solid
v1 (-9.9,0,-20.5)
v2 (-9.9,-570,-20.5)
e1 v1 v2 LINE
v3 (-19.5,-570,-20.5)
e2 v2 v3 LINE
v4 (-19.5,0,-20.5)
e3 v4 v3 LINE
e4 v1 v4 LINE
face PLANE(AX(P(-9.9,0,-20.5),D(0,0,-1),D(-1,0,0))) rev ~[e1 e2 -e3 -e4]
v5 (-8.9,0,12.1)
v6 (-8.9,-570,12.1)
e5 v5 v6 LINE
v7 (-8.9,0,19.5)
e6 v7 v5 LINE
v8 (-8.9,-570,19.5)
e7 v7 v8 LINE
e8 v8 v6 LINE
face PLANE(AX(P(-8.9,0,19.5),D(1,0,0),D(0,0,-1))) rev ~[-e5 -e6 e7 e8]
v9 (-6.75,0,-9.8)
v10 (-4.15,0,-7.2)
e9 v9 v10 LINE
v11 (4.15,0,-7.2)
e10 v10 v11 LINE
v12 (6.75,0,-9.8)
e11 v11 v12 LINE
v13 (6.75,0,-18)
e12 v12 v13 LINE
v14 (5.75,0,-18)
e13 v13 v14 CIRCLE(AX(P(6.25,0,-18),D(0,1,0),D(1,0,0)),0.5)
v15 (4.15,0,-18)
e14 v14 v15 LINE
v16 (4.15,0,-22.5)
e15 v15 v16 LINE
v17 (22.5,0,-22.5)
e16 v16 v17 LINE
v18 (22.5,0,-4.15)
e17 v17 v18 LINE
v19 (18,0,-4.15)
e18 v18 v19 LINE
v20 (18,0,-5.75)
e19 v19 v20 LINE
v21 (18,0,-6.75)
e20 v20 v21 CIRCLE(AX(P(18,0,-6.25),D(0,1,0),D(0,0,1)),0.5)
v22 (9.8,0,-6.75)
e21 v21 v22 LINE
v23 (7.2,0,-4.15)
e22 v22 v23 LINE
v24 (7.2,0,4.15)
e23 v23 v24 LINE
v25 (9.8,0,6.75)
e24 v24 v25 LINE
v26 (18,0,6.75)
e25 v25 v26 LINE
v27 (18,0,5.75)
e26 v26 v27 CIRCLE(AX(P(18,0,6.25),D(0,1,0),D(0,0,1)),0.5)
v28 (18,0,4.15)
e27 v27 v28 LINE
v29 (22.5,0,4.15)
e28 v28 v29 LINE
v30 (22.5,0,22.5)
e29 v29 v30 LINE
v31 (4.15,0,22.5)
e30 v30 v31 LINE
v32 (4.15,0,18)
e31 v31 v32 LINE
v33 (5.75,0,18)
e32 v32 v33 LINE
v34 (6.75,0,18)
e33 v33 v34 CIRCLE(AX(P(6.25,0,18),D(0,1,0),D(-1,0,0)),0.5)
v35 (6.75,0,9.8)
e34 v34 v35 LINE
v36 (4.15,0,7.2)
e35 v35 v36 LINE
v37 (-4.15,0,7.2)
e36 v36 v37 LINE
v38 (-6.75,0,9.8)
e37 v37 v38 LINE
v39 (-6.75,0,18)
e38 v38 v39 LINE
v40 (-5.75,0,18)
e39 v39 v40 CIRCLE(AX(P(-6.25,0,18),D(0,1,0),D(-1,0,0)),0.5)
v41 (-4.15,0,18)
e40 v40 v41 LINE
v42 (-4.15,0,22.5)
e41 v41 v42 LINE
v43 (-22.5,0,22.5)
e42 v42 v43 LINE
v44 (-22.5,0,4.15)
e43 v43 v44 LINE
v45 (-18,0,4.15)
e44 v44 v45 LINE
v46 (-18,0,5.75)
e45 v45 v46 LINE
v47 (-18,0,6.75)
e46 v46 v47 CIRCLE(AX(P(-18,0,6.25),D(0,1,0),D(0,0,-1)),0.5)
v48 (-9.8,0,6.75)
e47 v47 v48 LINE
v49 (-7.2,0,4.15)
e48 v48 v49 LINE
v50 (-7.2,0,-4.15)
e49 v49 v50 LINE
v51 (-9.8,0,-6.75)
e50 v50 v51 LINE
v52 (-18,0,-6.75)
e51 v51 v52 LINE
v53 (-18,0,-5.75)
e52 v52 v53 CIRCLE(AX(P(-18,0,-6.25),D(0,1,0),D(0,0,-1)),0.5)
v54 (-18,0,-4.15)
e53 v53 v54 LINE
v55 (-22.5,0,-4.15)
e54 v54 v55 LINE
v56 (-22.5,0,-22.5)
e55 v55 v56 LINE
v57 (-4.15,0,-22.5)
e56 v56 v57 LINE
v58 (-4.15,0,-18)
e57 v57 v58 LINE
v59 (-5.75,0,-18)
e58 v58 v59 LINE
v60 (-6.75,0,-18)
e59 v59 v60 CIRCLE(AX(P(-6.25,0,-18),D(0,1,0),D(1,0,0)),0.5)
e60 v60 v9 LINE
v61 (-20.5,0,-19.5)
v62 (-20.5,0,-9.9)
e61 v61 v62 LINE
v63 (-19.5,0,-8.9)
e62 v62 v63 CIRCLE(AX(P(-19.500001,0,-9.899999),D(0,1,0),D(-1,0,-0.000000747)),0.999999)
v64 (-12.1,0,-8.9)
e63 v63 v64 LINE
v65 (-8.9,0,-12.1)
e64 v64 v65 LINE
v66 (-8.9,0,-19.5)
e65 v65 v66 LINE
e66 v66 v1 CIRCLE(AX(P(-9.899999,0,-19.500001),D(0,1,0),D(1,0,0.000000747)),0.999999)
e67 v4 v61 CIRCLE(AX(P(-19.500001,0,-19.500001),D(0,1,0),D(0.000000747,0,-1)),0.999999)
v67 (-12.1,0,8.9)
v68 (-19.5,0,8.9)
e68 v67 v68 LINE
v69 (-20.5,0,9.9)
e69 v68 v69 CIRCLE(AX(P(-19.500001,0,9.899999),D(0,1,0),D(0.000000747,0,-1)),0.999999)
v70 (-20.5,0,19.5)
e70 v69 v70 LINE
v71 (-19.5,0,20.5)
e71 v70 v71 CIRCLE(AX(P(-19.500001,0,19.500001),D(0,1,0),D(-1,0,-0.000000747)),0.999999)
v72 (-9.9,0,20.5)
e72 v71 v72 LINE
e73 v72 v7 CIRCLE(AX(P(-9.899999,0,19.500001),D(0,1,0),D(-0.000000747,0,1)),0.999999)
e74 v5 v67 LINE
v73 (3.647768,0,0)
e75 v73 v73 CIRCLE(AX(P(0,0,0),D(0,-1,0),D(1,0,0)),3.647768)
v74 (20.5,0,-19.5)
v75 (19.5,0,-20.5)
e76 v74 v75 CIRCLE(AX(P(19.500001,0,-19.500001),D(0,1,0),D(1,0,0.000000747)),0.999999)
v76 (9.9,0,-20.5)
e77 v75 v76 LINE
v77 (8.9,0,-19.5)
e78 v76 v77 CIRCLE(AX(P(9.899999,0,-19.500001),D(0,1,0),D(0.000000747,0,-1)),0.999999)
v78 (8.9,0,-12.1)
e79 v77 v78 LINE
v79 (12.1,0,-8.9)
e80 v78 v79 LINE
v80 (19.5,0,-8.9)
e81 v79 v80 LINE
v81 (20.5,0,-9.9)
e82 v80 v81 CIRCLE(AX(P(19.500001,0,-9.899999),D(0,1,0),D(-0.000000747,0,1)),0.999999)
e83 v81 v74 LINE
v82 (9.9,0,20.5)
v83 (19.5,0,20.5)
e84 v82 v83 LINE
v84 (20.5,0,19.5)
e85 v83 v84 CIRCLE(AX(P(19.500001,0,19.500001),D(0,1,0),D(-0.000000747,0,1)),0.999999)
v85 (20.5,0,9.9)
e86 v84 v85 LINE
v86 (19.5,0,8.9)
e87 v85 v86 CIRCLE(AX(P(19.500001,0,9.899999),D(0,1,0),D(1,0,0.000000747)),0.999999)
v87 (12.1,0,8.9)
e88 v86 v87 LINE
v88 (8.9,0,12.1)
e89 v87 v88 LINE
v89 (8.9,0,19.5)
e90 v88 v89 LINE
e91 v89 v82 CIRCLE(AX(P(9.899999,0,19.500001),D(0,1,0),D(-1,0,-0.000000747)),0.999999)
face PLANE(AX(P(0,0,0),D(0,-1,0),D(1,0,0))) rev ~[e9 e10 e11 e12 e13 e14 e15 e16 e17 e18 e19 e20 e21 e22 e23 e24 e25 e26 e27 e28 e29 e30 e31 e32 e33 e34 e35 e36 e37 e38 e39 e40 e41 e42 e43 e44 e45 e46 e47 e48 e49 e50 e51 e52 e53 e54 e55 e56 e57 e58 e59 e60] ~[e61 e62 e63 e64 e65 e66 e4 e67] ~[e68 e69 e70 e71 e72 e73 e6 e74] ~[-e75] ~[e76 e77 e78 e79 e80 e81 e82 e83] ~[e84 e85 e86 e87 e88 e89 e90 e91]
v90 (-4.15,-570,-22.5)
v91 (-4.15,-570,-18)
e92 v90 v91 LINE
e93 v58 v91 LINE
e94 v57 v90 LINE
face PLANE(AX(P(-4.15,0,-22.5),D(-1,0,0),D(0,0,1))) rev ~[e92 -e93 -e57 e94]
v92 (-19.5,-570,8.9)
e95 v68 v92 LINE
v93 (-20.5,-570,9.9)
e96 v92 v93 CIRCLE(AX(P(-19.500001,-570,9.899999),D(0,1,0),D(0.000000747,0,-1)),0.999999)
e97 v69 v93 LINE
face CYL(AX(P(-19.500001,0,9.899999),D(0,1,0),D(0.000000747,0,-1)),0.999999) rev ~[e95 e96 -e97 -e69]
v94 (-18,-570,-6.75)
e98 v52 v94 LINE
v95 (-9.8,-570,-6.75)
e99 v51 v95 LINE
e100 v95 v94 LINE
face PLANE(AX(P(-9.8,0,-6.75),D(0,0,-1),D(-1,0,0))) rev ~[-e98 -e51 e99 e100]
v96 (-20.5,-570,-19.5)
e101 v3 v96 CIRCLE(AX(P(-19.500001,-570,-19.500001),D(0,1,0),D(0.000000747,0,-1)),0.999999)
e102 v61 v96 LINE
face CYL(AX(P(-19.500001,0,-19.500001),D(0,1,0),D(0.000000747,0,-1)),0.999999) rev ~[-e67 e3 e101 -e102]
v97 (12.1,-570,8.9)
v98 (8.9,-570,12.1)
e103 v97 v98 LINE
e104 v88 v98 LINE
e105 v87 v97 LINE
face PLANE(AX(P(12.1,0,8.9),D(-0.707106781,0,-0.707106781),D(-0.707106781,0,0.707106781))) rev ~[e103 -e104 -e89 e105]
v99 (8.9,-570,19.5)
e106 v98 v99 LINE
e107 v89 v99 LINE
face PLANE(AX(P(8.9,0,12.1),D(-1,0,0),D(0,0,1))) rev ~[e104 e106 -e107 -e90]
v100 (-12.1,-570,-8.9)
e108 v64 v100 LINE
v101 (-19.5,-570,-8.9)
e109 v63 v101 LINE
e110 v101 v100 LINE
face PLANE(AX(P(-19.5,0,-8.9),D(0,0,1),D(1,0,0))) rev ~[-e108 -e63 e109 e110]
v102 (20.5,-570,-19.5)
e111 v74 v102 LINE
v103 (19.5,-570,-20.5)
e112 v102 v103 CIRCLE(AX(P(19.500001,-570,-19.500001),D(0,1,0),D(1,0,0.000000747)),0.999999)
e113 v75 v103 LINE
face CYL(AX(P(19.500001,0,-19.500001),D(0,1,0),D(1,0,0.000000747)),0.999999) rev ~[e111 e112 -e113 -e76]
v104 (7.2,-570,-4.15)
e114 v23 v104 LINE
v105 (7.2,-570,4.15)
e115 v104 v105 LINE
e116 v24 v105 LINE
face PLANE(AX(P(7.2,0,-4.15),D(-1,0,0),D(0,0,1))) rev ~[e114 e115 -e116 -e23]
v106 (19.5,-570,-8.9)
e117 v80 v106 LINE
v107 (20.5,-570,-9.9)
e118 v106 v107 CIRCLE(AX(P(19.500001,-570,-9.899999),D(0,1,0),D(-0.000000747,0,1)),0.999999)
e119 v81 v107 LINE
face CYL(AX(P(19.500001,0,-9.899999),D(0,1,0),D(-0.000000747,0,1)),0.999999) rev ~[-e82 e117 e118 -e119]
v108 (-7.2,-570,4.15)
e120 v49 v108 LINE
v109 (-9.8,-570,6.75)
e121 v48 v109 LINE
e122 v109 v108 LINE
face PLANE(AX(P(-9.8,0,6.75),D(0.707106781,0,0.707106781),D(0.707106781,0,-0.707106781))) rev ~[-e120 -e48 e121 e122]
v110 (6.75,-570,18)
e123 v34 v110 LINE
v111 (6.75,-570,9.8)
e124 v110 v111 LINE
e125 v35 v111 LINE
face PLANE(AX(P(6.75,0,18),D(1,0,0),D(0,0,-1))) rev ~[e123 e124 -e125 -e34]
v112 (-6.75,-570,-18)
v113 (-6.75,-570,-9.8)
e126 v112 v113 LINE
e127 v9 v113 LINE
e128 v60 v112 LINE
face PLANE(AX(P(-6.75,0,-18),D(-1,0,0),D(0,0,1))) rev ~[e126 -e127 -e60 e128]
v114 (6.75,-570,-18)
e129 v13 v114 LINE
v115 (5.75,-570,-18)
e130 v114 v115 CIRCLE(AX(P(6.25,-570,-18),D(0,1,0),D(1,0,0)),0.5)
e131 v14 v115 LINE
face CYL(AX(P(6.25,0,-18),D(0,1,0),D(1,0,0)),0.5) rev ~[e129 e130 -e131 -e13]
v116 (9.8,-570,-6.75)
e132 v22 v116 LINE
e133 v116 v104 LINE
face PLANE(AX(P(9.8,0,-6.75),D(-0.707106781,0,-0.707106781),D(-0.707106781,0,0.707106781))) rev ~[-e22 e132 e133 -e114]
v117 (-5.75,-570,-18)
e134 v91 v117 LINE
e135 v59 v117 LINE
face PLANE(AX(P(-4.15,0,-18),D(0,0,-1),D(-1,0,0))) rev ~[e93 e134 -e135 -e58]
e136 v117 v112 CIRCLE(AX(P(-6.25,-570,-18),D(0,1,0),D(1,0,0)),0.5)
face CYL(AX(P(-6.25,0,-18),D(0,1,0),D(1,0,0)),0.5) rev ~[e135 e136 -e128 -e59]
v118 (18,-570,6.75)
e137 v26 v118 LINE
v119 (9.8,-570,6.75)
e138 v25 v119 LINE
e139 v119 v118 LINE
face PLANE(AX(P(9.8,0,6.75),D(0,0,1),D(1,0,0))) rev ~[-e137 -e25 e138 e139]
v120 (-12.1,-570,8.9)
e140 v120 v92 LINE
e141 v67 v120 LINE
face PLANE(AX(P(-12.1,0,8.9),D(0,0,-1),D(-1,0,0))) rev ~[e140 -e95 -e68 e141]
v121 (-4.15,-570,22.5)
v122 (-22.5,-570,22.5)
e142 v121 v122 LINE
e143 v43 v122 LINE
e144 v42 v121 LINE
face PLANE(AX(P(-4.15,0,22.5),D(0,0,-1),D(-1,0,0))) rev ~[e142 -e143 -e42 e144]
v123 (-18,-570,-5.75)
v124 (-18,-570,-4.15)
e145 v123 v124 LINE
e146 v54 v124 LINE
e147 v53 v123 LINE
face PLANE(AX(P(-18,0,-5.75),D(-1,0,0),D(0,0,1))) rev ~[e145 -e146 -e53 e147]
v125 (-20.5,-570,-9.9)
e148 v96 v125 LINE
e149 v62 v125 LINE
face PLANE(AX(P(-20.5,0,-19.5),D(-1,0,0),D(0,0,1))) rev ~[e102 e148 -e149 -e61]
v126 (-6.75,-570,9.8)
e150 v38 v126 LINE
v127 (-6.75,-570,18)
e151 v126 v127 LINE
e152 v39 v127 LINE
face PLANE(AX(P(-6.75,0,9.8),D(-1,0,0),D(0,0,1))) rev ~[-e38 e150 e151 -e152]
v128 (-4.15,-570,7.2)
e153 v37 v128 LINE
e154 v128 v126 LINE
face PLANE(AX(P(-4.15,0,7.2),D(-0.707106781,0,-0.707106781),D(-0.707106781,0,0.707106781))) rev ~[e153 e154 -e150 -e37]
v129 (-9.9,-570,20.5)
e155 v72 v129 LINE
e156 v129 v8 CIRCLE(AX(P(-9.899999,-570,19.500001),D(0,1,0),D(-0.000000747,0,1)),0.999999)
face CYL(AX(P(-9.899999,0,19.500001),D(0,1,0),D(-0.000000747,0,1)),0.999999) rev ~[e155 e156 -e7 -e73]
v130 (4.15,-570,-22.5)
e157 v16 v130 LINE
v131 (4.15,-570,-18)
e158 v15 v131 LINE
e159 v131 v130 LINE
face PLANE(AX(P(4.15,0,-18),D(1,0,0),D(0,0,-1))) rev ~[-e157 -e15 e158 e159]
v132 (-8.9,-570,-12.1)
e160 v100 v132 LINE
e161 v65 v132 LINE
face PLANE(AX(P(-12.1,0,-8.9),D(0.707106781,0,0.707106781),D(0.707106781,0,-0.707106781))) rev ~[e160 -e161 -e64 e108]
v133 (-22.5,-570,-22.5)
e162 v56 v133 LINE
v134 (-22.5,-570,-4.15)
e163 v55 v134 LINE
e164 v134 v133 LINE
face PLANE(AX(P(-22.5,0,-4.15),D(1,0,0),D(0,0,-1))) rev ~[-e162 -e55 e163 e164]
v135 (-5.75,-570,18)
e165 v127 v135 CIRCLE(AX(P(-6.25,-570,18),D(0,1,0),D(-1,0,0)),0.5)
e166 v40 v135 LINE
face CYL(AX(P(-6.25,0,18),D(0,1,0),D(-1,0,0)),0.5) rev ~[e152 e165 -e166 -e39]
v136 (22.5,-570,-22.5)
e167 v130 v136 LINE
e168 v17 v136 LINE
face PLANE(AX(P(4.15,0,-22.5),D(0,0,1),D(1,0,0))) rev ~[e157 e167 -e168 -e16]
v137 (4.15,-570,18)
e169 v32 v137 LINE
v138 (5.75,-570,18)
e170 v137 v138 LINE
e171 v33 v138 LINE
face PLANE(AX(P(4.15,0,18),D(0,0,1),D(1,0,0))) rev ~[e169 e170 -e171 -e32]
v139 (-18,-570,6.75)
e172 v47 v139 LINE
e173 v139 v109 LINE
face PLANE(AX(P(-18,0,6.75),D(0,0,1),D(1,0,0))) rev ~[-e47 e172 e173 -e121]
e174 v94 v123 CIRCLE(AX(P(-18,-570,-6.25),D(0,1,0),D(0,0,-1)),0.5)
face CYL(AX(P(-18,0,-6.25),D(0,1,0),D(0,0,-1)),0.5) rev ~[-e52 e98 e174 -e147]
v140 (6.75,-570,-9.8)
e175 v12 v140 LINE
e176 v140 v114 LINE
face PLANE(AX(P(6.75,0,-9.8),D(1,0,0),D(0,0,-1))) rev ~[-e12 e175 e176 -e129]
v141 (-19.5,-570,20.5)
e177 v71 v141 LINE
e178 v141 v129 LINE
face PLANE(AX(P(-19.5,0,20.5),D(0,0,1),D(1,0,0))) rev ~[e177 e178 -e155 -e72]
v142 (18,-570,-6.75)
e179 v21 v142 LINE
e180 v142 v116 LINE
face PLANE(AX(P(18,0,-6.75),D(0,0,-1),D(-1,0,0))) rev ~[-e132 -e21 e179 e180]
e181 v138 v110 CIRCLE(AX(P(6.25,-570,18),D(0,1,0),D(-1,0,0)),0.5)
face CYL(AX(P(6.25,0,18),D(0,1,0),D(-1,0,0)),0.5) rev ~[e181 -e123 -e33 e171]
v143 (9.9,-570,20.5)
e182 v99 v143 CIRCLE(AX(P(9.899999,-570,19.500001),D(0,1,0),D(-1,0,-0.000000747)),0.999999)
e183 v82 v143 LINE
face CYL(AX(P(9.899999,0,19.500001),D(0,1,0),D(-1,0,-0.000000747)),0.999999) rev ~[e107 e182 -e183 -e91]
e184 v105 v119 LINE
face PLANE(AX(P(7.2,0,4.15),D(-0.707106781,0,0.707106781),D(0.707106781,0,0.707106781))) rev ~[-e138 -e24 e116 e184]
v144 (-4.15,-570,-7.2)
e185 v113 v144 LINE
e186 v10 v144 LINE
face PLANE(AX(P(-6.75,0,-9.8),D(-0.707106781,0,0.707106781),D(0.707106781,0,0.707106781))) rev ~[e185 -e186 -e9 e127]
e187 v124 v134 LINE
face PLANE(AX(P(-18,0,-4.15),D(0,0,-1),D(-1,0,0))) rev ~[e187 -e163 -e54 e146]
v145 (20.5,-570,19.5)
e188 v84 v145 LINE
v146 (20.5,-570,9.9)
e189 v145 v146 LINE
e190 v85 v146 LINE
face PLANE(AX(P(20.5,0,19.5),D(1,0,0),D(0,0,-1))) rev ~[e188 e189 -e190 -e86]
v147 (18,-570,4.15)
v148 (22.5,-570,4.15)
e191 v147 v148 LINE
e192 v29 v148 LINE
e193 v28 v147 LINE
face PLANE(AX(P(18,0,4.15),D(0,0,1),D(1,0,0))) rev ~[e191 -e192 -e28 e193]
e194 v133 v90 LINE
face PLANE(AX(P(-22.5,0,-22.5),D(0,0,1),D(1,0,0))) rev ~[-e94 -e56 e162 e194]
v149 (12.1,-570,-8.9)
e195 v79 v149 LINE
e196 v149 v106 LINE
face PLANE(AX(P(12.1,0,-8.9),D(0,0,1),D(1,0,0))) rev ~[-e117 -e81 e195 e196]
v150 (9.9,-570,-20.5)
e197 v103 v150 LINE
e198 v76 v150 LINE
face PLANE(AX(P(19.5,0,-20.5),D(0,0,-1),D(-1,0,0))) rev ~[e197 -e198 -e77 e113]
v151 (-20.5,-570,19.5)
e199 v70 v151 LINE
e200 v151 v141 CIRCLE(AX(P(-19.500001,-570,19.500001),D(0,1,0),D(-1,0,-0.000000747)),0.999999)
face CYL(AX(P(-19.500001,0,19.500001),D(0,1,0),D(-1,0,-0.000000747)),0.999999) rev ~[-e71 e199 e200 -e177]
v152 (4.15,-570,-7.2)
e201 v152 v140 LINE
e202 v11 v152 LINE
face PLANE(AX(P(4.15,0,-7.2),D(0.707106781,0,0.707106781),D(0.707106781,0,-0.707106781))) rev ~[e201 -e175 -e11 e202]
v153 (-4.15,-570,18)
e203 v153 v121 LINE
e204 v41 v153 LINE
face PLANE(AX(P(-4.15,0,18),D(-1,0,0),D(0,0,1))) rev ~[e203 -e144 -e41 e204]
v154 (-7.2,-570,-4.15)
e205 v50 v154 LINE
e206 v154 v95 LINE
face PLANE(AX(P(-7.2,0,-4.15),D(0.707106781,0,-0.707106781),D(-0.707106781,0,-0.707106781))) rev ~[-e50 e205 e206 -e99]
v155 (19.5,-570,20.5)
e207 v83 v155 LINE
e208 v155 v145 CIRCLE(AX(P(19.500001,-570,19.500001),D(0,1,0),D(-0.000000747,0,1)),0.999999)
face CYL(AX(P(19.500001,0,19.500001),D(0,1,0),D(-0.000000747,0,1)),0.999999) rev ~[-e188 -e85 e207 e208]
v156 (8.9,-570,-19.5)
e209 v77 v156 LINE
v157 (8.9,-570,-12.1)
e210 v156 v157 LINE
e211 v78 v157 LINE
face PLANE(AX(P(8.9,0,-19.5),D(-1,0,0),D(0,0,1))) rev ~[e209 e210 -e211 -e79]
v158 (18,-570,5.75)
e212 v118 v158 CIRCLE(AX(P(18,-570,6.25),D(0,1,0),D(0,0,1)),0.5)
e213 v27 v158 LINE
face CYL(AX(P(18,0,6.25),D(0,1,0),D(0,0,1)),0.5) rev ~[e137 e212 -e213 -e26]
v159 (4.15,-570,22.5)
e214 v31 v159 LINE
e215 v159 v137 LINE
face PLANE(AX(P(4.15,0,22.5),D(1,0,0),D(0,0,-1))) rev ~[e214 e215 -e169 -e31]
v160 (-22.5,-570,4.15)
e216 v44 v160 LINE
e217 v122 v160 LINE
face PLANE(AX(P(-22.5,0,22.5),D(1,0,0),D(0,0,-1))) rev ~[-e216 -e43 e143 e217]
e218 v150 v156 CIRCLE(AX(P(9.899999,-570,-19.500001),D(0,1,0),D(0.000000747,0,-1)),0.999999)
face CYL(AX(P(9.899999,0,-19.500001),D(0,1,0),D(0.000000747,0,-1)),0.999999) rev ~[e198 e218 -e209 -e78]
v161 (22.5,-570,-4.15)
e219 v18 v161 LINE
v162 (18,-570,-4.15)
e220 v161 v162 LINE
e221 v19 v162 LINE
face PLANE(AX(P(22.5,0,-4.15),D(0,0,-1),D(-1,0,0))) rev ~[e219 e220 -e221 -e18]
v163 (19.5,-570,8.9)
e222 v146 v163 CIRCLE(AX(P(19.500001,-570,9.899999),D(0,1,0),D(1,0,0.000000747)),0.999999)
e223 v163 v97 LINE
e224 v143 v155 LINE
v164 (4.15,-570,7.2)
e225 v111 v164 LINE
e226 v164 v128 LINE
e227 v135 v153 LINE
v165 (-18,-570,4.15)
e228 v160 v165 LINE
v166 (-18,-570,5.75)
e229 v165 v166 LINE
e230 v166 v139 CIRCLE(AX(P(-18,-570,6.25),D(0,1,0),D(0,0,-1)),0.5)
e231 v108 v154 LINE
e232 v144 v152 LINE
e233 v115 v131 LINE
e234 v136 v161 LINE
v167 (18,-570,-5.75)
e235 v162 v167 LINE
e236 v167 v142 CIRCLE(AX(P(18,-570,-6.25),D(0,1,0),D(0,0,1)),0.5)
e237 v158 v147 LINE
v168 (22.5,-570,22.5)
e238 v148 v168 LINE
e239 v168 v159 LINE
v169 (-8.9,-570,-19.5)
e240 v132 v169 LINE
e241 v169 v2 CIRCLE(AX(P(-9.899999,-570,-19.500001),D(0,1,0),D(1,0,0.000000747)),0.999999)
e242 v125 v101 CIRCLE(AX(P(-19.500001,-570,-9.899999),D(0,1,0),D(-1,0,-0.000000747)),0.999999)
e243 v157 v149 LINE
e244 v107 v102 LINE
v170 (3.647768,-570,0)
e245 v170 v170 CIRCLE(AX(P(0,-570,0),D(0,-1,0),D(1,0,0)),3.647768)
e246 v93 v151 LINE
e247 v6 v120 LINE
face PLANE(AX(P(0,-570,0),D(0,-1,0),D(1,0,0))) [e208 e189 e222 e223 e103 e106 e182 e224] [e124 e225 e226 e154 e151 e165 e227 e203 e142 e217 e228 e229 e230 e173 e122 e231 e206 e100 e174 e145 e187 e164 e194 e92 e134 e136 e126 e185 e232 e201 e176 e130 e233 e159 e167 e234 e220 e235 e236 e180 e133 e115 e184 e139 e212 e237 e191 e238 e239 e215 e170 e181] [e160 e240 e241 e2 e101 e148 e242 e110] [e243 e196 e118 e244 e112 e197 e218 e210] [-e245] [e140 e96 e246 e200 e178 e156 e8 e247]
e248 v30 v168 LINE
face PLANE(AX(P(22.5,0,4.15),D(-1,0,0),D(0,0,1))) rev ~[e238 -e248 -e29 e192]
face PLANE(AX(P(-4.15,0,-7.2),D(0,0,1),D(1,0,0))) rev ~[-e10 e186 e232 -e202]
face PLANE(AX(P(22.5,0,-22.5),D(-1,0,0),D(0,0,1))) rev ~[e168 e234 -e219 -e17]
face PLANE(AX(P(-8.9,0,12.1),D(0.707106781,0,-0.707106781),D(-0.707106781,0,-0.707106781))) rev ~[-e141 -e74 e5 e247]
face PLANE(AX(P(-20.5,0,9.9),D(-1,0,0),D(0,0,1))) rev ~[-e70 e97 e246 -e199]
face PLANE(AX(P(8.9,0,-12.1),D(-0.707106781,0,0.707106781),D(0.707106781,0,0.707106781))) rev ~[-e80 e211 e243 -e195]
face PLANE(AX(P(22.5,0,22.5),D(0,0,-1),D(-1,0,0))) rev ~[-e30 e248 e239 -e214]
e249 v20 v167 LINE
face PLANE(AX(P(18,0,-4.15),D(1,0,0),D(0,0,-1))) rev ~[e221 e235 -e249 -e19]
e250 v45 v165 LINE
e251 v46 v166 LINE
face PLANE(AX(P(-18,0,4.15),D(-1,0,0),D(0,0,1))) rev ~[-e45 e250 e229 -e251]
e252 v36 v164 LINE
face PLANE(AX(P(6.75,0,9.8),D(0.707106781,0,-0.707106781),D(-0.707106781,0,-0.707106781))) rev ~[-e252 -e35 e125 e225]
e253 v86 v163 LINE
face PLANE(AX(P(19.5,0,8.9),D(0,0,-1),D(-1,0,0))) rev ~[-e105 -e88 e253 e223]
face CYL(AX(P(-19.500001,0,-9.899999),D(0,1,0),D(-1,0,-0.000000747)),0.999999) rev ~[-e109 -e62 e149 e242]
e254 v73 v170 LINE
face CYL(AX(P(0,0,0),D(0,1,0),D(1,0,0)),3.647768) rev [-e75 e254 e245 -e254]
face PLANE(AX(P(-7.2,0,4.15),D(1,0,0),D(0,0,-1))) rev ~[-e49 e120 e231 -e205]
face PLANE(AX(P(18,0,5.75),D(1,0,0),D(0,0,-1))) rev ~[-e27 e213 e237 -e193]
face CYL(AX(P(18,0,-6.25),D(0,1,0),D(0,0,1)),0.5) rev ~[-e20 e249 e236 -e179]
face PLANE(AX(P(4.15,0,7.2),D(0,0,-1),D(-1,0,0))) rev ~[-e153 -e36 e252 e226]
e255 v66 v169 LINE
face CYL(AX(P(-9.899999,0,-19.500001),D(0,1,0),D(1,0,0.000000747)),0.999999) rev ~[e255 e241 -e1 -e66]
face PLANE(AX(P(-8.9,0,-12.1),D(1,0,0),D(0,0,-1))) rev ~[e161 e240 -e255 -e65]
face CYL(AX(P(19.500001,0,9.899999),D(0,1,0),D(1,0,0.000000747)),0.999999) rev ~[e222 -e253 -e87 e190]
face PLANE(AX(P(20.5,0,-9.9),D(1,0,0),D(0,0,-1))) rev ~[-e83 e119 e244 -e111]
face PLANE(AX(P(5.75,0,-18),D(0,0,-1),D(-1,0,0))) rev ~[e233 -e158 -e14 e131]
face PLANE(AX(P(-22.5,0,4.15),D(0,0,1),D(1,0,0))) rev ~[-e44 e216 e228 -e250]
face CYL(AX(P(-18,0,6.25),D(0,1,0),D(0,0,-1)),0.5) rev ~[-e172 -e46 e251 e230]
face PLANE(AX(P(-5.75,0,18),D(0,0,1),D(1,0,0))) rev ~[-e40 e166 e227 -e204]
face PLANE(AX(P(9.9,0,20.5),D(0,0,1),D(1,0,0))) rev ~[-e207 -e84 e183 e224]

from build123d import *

# Parameters (mm, degrees)
F0_R     = 3.647768
F1_DEPTH = 570


with BuildPart() as f1:
    # F0 (on Front) → F1 (new body)
    with BuildSketch(Plane.XZ):
        with BuildLine():
            Line((-4.15, 22.5), (-22.5, 22.5))
            Line((-22.5, 22.5), (-22.5, 4.15))
            Line((-22.5, 4.15), (-18, 4.15))
            Line((-18, 4.15), (-18, 5.75))
            ThreePointArc((-18, 5.75), (-18.5, 6.25), (-18, 6.75))
            Line((-18, 6.75), (-9.8, 6.75))
            Line((-9.8, 6.75), (-7.2, 4.15))
            Line((-7.2, 4.15), (-7.2, -4.15))
            Line((-7.2, -4.15), (-9.8, -6.75))
            Line((-9.8, -6.75), (-18, -6.75))
            ThreePointArc((-18, -6.75), (-18.5, -6.25), (-18, -5.75))
            Line((-18, -5.75), (-18, -4.15))
            Line((-18, -4.15), (-22.5, -4.15))
            Line((-22.5, -4.15), (-22.5, -22.5))
            Line((-22.5, -22.5), (-4.15, -22.5))
            Line((-4.15, -22.5), (-4.15, -18))
            Line((-4.15, -18), (-5.75, -18))
            ThreePointArc((-5.75, -18), (-6.25, -18.5), (-6.75, -18))
            Line((-6.75, -18), (-6.75, -9.8))
            Line((-6.75, -9.8), (-4.15, -7.2))
            Line((-4.15, -7.2), (4.15, -7.2))
            Line((4.15, -7.2), (6.75, -9.8))
            Line((6.75, -9.8), (6.75, -18))
            ThreePointArc((6.75, -18), (6.25, -18.5), (5.75, -18))
            Line((5.75, -18), (4.15, -18))
            Line((4.15, -18), (4.15, -22.5))
            Line((4.15, -22.5), (22.5, -22.5))
            Line((22.5, -22.5), (22.5, -4.15))
            Line((22.5, -4.15), (18, -4.15))
            Line((18, -4.15), (18, -5.75))
            ThreePointArc((18, -5.75), (18.5, -6.25), (18, -6.75))
            Line((18, -6.75), (9.8, -6.75))
            Line((9.8, -6.75), (7.2, -4.15))
            Line((7.2, -4.15), (7.2, 4.15))
            Line((7.2, 4.15), (9.8, 6.75))
            Line((9.8, 6.75), (18, 6.75))
            ThreePointArc((18, 6.75), (18.5, 6.25), (18, 5.75))
            Line((18, 5.75), (18, 4.15))
            Line((18, 4.15), (22.5, 4.15))
            Line((22.5, 4.15), (22.5, 22.5))
            Line((22.5, 22.5), (4.15, 22.5))
            Line((4.15, 22.5), (4.15, 18))
            Line((4.15, 18), (5.75, 18))
            ThreePointArc((5.75, 18), (6.25, 18.5), (6.75, 18))
            Line((6.75, 18), (6.75, 9.8))
            Line((6.75, 9.8), (4.15, 7.2))
            Line((4.15, 7.2), (-4.15, 7.2))
            Line((-4.15, 7.2), (-6.75, 9.8))
            Line((-6.75, 9.8), (-6.75, 18))
            ThreePointArc((-6.75, 18), (-6.25, 18.5), (-5.75, 18))
            Line((-5.75, 18), (-4.15, 18))
            Line((-4.15, 18), (-4.15, 22.5))
        make_face()
        with BuildLine():
            Line((-8.9, -12.1), (-8.9, -19.5))
            ThreePointArc((-8.9, -19.5), (-9.192893, -20.207107), (-9.9, -20.5))
            Line((-9.9, -20.5), (-19.5, -20.5))
            ThreePointArc((-19.5, -20.5), (-20.207107, -20.207107), (-20.5, -19.5))
            Line((-20.5, -19.5), (-20.5, -9.9))
            ThreePointArc((-20.5, -9.9), (-20.207107, -9.192893), (-19.5, -8.9))
            Line((-19.5, -8.9), (-12.1, -8.9))
            Line((-12.1, -8.9), (-8.9, -12.1))
        make_face(mode=Mode.SUBTRACT)
        with BuildLine():
            Line((8.9, -12.1), (12.1, -8.9))
            Line((12.1, -8.9), (19.5, -8.9))
            ThreePointArc((19.5, -8.9), (20.207107, -9.192893), (20.5, -9.9))
            Line((20.5, -9.9), (20.5, -19.5))
            ThreePointArc((20.5, -19.5), (20.207107, -20.207107), (19.5, -20.5))
            Line((19.5, -20.5), (9.9, -20.5))
            ThreePointArc((9.9, -20.5), (9.192893, -20.207107), (8.9, -19.5))
            Line((8.9, -19.5), (8.9, -12.1))
        make_face(mode=Mode.SUBTRACT)
        with BuildLine():
            ThreePointArc((-20.5, 19.5), (-20.207107, 20.207107), (-19.5, 20.5))
            Line((-19.5, 20.5), (-9.9, 20.5))
            ThreePointArc((-9.9, 20.5), (-9.192893, 20.207107), (-8.9, 19.5))
            Line((-8.9, 19.5), (-8.9, 12.1))
            Line((-8.9, 12.1), (-12.1, 8.9))
            Line((-12.1, 8.9), (-19.5, 8.9))
            ThreePointArc((-19.5, 8.9), (-20.207107, 9.192893), (-20.5, 9.9))
            Line((-20.5, 9.9), (-20.5, 19.5))
        make_face(mode=Mode.SUBTRACT)
        Circle(F0_R, mode=Mode.SUBTRACT)
        with BuildLine():
            Line((12.1, 8.9), (8.9, 12.1))
            Line((8.9, 12.1), (8.9, 19.5))
            ThreePointArc((8.9, 19.5), (9.192893, 20.207107), (9.9, 20.5))
            Line((9.9, 20.5), (19.5, 20.5))
            ThreePointArc((19.5, 20.5), (20.207107, 20.207107), (20.5, 19.5))
            Line((20.5, 19.5), (20.5, 9.9))
            ThreePointArc((20.5, 9.9), (20.207107, 9.192893), (19.5, 8.9))
            Line((19.5, 8.9), (12.1, 8.9))
        make_face(mode=Mode.SUBTRACT)
    extrude(amount=F1_DEPTH)


solid = f1.part
